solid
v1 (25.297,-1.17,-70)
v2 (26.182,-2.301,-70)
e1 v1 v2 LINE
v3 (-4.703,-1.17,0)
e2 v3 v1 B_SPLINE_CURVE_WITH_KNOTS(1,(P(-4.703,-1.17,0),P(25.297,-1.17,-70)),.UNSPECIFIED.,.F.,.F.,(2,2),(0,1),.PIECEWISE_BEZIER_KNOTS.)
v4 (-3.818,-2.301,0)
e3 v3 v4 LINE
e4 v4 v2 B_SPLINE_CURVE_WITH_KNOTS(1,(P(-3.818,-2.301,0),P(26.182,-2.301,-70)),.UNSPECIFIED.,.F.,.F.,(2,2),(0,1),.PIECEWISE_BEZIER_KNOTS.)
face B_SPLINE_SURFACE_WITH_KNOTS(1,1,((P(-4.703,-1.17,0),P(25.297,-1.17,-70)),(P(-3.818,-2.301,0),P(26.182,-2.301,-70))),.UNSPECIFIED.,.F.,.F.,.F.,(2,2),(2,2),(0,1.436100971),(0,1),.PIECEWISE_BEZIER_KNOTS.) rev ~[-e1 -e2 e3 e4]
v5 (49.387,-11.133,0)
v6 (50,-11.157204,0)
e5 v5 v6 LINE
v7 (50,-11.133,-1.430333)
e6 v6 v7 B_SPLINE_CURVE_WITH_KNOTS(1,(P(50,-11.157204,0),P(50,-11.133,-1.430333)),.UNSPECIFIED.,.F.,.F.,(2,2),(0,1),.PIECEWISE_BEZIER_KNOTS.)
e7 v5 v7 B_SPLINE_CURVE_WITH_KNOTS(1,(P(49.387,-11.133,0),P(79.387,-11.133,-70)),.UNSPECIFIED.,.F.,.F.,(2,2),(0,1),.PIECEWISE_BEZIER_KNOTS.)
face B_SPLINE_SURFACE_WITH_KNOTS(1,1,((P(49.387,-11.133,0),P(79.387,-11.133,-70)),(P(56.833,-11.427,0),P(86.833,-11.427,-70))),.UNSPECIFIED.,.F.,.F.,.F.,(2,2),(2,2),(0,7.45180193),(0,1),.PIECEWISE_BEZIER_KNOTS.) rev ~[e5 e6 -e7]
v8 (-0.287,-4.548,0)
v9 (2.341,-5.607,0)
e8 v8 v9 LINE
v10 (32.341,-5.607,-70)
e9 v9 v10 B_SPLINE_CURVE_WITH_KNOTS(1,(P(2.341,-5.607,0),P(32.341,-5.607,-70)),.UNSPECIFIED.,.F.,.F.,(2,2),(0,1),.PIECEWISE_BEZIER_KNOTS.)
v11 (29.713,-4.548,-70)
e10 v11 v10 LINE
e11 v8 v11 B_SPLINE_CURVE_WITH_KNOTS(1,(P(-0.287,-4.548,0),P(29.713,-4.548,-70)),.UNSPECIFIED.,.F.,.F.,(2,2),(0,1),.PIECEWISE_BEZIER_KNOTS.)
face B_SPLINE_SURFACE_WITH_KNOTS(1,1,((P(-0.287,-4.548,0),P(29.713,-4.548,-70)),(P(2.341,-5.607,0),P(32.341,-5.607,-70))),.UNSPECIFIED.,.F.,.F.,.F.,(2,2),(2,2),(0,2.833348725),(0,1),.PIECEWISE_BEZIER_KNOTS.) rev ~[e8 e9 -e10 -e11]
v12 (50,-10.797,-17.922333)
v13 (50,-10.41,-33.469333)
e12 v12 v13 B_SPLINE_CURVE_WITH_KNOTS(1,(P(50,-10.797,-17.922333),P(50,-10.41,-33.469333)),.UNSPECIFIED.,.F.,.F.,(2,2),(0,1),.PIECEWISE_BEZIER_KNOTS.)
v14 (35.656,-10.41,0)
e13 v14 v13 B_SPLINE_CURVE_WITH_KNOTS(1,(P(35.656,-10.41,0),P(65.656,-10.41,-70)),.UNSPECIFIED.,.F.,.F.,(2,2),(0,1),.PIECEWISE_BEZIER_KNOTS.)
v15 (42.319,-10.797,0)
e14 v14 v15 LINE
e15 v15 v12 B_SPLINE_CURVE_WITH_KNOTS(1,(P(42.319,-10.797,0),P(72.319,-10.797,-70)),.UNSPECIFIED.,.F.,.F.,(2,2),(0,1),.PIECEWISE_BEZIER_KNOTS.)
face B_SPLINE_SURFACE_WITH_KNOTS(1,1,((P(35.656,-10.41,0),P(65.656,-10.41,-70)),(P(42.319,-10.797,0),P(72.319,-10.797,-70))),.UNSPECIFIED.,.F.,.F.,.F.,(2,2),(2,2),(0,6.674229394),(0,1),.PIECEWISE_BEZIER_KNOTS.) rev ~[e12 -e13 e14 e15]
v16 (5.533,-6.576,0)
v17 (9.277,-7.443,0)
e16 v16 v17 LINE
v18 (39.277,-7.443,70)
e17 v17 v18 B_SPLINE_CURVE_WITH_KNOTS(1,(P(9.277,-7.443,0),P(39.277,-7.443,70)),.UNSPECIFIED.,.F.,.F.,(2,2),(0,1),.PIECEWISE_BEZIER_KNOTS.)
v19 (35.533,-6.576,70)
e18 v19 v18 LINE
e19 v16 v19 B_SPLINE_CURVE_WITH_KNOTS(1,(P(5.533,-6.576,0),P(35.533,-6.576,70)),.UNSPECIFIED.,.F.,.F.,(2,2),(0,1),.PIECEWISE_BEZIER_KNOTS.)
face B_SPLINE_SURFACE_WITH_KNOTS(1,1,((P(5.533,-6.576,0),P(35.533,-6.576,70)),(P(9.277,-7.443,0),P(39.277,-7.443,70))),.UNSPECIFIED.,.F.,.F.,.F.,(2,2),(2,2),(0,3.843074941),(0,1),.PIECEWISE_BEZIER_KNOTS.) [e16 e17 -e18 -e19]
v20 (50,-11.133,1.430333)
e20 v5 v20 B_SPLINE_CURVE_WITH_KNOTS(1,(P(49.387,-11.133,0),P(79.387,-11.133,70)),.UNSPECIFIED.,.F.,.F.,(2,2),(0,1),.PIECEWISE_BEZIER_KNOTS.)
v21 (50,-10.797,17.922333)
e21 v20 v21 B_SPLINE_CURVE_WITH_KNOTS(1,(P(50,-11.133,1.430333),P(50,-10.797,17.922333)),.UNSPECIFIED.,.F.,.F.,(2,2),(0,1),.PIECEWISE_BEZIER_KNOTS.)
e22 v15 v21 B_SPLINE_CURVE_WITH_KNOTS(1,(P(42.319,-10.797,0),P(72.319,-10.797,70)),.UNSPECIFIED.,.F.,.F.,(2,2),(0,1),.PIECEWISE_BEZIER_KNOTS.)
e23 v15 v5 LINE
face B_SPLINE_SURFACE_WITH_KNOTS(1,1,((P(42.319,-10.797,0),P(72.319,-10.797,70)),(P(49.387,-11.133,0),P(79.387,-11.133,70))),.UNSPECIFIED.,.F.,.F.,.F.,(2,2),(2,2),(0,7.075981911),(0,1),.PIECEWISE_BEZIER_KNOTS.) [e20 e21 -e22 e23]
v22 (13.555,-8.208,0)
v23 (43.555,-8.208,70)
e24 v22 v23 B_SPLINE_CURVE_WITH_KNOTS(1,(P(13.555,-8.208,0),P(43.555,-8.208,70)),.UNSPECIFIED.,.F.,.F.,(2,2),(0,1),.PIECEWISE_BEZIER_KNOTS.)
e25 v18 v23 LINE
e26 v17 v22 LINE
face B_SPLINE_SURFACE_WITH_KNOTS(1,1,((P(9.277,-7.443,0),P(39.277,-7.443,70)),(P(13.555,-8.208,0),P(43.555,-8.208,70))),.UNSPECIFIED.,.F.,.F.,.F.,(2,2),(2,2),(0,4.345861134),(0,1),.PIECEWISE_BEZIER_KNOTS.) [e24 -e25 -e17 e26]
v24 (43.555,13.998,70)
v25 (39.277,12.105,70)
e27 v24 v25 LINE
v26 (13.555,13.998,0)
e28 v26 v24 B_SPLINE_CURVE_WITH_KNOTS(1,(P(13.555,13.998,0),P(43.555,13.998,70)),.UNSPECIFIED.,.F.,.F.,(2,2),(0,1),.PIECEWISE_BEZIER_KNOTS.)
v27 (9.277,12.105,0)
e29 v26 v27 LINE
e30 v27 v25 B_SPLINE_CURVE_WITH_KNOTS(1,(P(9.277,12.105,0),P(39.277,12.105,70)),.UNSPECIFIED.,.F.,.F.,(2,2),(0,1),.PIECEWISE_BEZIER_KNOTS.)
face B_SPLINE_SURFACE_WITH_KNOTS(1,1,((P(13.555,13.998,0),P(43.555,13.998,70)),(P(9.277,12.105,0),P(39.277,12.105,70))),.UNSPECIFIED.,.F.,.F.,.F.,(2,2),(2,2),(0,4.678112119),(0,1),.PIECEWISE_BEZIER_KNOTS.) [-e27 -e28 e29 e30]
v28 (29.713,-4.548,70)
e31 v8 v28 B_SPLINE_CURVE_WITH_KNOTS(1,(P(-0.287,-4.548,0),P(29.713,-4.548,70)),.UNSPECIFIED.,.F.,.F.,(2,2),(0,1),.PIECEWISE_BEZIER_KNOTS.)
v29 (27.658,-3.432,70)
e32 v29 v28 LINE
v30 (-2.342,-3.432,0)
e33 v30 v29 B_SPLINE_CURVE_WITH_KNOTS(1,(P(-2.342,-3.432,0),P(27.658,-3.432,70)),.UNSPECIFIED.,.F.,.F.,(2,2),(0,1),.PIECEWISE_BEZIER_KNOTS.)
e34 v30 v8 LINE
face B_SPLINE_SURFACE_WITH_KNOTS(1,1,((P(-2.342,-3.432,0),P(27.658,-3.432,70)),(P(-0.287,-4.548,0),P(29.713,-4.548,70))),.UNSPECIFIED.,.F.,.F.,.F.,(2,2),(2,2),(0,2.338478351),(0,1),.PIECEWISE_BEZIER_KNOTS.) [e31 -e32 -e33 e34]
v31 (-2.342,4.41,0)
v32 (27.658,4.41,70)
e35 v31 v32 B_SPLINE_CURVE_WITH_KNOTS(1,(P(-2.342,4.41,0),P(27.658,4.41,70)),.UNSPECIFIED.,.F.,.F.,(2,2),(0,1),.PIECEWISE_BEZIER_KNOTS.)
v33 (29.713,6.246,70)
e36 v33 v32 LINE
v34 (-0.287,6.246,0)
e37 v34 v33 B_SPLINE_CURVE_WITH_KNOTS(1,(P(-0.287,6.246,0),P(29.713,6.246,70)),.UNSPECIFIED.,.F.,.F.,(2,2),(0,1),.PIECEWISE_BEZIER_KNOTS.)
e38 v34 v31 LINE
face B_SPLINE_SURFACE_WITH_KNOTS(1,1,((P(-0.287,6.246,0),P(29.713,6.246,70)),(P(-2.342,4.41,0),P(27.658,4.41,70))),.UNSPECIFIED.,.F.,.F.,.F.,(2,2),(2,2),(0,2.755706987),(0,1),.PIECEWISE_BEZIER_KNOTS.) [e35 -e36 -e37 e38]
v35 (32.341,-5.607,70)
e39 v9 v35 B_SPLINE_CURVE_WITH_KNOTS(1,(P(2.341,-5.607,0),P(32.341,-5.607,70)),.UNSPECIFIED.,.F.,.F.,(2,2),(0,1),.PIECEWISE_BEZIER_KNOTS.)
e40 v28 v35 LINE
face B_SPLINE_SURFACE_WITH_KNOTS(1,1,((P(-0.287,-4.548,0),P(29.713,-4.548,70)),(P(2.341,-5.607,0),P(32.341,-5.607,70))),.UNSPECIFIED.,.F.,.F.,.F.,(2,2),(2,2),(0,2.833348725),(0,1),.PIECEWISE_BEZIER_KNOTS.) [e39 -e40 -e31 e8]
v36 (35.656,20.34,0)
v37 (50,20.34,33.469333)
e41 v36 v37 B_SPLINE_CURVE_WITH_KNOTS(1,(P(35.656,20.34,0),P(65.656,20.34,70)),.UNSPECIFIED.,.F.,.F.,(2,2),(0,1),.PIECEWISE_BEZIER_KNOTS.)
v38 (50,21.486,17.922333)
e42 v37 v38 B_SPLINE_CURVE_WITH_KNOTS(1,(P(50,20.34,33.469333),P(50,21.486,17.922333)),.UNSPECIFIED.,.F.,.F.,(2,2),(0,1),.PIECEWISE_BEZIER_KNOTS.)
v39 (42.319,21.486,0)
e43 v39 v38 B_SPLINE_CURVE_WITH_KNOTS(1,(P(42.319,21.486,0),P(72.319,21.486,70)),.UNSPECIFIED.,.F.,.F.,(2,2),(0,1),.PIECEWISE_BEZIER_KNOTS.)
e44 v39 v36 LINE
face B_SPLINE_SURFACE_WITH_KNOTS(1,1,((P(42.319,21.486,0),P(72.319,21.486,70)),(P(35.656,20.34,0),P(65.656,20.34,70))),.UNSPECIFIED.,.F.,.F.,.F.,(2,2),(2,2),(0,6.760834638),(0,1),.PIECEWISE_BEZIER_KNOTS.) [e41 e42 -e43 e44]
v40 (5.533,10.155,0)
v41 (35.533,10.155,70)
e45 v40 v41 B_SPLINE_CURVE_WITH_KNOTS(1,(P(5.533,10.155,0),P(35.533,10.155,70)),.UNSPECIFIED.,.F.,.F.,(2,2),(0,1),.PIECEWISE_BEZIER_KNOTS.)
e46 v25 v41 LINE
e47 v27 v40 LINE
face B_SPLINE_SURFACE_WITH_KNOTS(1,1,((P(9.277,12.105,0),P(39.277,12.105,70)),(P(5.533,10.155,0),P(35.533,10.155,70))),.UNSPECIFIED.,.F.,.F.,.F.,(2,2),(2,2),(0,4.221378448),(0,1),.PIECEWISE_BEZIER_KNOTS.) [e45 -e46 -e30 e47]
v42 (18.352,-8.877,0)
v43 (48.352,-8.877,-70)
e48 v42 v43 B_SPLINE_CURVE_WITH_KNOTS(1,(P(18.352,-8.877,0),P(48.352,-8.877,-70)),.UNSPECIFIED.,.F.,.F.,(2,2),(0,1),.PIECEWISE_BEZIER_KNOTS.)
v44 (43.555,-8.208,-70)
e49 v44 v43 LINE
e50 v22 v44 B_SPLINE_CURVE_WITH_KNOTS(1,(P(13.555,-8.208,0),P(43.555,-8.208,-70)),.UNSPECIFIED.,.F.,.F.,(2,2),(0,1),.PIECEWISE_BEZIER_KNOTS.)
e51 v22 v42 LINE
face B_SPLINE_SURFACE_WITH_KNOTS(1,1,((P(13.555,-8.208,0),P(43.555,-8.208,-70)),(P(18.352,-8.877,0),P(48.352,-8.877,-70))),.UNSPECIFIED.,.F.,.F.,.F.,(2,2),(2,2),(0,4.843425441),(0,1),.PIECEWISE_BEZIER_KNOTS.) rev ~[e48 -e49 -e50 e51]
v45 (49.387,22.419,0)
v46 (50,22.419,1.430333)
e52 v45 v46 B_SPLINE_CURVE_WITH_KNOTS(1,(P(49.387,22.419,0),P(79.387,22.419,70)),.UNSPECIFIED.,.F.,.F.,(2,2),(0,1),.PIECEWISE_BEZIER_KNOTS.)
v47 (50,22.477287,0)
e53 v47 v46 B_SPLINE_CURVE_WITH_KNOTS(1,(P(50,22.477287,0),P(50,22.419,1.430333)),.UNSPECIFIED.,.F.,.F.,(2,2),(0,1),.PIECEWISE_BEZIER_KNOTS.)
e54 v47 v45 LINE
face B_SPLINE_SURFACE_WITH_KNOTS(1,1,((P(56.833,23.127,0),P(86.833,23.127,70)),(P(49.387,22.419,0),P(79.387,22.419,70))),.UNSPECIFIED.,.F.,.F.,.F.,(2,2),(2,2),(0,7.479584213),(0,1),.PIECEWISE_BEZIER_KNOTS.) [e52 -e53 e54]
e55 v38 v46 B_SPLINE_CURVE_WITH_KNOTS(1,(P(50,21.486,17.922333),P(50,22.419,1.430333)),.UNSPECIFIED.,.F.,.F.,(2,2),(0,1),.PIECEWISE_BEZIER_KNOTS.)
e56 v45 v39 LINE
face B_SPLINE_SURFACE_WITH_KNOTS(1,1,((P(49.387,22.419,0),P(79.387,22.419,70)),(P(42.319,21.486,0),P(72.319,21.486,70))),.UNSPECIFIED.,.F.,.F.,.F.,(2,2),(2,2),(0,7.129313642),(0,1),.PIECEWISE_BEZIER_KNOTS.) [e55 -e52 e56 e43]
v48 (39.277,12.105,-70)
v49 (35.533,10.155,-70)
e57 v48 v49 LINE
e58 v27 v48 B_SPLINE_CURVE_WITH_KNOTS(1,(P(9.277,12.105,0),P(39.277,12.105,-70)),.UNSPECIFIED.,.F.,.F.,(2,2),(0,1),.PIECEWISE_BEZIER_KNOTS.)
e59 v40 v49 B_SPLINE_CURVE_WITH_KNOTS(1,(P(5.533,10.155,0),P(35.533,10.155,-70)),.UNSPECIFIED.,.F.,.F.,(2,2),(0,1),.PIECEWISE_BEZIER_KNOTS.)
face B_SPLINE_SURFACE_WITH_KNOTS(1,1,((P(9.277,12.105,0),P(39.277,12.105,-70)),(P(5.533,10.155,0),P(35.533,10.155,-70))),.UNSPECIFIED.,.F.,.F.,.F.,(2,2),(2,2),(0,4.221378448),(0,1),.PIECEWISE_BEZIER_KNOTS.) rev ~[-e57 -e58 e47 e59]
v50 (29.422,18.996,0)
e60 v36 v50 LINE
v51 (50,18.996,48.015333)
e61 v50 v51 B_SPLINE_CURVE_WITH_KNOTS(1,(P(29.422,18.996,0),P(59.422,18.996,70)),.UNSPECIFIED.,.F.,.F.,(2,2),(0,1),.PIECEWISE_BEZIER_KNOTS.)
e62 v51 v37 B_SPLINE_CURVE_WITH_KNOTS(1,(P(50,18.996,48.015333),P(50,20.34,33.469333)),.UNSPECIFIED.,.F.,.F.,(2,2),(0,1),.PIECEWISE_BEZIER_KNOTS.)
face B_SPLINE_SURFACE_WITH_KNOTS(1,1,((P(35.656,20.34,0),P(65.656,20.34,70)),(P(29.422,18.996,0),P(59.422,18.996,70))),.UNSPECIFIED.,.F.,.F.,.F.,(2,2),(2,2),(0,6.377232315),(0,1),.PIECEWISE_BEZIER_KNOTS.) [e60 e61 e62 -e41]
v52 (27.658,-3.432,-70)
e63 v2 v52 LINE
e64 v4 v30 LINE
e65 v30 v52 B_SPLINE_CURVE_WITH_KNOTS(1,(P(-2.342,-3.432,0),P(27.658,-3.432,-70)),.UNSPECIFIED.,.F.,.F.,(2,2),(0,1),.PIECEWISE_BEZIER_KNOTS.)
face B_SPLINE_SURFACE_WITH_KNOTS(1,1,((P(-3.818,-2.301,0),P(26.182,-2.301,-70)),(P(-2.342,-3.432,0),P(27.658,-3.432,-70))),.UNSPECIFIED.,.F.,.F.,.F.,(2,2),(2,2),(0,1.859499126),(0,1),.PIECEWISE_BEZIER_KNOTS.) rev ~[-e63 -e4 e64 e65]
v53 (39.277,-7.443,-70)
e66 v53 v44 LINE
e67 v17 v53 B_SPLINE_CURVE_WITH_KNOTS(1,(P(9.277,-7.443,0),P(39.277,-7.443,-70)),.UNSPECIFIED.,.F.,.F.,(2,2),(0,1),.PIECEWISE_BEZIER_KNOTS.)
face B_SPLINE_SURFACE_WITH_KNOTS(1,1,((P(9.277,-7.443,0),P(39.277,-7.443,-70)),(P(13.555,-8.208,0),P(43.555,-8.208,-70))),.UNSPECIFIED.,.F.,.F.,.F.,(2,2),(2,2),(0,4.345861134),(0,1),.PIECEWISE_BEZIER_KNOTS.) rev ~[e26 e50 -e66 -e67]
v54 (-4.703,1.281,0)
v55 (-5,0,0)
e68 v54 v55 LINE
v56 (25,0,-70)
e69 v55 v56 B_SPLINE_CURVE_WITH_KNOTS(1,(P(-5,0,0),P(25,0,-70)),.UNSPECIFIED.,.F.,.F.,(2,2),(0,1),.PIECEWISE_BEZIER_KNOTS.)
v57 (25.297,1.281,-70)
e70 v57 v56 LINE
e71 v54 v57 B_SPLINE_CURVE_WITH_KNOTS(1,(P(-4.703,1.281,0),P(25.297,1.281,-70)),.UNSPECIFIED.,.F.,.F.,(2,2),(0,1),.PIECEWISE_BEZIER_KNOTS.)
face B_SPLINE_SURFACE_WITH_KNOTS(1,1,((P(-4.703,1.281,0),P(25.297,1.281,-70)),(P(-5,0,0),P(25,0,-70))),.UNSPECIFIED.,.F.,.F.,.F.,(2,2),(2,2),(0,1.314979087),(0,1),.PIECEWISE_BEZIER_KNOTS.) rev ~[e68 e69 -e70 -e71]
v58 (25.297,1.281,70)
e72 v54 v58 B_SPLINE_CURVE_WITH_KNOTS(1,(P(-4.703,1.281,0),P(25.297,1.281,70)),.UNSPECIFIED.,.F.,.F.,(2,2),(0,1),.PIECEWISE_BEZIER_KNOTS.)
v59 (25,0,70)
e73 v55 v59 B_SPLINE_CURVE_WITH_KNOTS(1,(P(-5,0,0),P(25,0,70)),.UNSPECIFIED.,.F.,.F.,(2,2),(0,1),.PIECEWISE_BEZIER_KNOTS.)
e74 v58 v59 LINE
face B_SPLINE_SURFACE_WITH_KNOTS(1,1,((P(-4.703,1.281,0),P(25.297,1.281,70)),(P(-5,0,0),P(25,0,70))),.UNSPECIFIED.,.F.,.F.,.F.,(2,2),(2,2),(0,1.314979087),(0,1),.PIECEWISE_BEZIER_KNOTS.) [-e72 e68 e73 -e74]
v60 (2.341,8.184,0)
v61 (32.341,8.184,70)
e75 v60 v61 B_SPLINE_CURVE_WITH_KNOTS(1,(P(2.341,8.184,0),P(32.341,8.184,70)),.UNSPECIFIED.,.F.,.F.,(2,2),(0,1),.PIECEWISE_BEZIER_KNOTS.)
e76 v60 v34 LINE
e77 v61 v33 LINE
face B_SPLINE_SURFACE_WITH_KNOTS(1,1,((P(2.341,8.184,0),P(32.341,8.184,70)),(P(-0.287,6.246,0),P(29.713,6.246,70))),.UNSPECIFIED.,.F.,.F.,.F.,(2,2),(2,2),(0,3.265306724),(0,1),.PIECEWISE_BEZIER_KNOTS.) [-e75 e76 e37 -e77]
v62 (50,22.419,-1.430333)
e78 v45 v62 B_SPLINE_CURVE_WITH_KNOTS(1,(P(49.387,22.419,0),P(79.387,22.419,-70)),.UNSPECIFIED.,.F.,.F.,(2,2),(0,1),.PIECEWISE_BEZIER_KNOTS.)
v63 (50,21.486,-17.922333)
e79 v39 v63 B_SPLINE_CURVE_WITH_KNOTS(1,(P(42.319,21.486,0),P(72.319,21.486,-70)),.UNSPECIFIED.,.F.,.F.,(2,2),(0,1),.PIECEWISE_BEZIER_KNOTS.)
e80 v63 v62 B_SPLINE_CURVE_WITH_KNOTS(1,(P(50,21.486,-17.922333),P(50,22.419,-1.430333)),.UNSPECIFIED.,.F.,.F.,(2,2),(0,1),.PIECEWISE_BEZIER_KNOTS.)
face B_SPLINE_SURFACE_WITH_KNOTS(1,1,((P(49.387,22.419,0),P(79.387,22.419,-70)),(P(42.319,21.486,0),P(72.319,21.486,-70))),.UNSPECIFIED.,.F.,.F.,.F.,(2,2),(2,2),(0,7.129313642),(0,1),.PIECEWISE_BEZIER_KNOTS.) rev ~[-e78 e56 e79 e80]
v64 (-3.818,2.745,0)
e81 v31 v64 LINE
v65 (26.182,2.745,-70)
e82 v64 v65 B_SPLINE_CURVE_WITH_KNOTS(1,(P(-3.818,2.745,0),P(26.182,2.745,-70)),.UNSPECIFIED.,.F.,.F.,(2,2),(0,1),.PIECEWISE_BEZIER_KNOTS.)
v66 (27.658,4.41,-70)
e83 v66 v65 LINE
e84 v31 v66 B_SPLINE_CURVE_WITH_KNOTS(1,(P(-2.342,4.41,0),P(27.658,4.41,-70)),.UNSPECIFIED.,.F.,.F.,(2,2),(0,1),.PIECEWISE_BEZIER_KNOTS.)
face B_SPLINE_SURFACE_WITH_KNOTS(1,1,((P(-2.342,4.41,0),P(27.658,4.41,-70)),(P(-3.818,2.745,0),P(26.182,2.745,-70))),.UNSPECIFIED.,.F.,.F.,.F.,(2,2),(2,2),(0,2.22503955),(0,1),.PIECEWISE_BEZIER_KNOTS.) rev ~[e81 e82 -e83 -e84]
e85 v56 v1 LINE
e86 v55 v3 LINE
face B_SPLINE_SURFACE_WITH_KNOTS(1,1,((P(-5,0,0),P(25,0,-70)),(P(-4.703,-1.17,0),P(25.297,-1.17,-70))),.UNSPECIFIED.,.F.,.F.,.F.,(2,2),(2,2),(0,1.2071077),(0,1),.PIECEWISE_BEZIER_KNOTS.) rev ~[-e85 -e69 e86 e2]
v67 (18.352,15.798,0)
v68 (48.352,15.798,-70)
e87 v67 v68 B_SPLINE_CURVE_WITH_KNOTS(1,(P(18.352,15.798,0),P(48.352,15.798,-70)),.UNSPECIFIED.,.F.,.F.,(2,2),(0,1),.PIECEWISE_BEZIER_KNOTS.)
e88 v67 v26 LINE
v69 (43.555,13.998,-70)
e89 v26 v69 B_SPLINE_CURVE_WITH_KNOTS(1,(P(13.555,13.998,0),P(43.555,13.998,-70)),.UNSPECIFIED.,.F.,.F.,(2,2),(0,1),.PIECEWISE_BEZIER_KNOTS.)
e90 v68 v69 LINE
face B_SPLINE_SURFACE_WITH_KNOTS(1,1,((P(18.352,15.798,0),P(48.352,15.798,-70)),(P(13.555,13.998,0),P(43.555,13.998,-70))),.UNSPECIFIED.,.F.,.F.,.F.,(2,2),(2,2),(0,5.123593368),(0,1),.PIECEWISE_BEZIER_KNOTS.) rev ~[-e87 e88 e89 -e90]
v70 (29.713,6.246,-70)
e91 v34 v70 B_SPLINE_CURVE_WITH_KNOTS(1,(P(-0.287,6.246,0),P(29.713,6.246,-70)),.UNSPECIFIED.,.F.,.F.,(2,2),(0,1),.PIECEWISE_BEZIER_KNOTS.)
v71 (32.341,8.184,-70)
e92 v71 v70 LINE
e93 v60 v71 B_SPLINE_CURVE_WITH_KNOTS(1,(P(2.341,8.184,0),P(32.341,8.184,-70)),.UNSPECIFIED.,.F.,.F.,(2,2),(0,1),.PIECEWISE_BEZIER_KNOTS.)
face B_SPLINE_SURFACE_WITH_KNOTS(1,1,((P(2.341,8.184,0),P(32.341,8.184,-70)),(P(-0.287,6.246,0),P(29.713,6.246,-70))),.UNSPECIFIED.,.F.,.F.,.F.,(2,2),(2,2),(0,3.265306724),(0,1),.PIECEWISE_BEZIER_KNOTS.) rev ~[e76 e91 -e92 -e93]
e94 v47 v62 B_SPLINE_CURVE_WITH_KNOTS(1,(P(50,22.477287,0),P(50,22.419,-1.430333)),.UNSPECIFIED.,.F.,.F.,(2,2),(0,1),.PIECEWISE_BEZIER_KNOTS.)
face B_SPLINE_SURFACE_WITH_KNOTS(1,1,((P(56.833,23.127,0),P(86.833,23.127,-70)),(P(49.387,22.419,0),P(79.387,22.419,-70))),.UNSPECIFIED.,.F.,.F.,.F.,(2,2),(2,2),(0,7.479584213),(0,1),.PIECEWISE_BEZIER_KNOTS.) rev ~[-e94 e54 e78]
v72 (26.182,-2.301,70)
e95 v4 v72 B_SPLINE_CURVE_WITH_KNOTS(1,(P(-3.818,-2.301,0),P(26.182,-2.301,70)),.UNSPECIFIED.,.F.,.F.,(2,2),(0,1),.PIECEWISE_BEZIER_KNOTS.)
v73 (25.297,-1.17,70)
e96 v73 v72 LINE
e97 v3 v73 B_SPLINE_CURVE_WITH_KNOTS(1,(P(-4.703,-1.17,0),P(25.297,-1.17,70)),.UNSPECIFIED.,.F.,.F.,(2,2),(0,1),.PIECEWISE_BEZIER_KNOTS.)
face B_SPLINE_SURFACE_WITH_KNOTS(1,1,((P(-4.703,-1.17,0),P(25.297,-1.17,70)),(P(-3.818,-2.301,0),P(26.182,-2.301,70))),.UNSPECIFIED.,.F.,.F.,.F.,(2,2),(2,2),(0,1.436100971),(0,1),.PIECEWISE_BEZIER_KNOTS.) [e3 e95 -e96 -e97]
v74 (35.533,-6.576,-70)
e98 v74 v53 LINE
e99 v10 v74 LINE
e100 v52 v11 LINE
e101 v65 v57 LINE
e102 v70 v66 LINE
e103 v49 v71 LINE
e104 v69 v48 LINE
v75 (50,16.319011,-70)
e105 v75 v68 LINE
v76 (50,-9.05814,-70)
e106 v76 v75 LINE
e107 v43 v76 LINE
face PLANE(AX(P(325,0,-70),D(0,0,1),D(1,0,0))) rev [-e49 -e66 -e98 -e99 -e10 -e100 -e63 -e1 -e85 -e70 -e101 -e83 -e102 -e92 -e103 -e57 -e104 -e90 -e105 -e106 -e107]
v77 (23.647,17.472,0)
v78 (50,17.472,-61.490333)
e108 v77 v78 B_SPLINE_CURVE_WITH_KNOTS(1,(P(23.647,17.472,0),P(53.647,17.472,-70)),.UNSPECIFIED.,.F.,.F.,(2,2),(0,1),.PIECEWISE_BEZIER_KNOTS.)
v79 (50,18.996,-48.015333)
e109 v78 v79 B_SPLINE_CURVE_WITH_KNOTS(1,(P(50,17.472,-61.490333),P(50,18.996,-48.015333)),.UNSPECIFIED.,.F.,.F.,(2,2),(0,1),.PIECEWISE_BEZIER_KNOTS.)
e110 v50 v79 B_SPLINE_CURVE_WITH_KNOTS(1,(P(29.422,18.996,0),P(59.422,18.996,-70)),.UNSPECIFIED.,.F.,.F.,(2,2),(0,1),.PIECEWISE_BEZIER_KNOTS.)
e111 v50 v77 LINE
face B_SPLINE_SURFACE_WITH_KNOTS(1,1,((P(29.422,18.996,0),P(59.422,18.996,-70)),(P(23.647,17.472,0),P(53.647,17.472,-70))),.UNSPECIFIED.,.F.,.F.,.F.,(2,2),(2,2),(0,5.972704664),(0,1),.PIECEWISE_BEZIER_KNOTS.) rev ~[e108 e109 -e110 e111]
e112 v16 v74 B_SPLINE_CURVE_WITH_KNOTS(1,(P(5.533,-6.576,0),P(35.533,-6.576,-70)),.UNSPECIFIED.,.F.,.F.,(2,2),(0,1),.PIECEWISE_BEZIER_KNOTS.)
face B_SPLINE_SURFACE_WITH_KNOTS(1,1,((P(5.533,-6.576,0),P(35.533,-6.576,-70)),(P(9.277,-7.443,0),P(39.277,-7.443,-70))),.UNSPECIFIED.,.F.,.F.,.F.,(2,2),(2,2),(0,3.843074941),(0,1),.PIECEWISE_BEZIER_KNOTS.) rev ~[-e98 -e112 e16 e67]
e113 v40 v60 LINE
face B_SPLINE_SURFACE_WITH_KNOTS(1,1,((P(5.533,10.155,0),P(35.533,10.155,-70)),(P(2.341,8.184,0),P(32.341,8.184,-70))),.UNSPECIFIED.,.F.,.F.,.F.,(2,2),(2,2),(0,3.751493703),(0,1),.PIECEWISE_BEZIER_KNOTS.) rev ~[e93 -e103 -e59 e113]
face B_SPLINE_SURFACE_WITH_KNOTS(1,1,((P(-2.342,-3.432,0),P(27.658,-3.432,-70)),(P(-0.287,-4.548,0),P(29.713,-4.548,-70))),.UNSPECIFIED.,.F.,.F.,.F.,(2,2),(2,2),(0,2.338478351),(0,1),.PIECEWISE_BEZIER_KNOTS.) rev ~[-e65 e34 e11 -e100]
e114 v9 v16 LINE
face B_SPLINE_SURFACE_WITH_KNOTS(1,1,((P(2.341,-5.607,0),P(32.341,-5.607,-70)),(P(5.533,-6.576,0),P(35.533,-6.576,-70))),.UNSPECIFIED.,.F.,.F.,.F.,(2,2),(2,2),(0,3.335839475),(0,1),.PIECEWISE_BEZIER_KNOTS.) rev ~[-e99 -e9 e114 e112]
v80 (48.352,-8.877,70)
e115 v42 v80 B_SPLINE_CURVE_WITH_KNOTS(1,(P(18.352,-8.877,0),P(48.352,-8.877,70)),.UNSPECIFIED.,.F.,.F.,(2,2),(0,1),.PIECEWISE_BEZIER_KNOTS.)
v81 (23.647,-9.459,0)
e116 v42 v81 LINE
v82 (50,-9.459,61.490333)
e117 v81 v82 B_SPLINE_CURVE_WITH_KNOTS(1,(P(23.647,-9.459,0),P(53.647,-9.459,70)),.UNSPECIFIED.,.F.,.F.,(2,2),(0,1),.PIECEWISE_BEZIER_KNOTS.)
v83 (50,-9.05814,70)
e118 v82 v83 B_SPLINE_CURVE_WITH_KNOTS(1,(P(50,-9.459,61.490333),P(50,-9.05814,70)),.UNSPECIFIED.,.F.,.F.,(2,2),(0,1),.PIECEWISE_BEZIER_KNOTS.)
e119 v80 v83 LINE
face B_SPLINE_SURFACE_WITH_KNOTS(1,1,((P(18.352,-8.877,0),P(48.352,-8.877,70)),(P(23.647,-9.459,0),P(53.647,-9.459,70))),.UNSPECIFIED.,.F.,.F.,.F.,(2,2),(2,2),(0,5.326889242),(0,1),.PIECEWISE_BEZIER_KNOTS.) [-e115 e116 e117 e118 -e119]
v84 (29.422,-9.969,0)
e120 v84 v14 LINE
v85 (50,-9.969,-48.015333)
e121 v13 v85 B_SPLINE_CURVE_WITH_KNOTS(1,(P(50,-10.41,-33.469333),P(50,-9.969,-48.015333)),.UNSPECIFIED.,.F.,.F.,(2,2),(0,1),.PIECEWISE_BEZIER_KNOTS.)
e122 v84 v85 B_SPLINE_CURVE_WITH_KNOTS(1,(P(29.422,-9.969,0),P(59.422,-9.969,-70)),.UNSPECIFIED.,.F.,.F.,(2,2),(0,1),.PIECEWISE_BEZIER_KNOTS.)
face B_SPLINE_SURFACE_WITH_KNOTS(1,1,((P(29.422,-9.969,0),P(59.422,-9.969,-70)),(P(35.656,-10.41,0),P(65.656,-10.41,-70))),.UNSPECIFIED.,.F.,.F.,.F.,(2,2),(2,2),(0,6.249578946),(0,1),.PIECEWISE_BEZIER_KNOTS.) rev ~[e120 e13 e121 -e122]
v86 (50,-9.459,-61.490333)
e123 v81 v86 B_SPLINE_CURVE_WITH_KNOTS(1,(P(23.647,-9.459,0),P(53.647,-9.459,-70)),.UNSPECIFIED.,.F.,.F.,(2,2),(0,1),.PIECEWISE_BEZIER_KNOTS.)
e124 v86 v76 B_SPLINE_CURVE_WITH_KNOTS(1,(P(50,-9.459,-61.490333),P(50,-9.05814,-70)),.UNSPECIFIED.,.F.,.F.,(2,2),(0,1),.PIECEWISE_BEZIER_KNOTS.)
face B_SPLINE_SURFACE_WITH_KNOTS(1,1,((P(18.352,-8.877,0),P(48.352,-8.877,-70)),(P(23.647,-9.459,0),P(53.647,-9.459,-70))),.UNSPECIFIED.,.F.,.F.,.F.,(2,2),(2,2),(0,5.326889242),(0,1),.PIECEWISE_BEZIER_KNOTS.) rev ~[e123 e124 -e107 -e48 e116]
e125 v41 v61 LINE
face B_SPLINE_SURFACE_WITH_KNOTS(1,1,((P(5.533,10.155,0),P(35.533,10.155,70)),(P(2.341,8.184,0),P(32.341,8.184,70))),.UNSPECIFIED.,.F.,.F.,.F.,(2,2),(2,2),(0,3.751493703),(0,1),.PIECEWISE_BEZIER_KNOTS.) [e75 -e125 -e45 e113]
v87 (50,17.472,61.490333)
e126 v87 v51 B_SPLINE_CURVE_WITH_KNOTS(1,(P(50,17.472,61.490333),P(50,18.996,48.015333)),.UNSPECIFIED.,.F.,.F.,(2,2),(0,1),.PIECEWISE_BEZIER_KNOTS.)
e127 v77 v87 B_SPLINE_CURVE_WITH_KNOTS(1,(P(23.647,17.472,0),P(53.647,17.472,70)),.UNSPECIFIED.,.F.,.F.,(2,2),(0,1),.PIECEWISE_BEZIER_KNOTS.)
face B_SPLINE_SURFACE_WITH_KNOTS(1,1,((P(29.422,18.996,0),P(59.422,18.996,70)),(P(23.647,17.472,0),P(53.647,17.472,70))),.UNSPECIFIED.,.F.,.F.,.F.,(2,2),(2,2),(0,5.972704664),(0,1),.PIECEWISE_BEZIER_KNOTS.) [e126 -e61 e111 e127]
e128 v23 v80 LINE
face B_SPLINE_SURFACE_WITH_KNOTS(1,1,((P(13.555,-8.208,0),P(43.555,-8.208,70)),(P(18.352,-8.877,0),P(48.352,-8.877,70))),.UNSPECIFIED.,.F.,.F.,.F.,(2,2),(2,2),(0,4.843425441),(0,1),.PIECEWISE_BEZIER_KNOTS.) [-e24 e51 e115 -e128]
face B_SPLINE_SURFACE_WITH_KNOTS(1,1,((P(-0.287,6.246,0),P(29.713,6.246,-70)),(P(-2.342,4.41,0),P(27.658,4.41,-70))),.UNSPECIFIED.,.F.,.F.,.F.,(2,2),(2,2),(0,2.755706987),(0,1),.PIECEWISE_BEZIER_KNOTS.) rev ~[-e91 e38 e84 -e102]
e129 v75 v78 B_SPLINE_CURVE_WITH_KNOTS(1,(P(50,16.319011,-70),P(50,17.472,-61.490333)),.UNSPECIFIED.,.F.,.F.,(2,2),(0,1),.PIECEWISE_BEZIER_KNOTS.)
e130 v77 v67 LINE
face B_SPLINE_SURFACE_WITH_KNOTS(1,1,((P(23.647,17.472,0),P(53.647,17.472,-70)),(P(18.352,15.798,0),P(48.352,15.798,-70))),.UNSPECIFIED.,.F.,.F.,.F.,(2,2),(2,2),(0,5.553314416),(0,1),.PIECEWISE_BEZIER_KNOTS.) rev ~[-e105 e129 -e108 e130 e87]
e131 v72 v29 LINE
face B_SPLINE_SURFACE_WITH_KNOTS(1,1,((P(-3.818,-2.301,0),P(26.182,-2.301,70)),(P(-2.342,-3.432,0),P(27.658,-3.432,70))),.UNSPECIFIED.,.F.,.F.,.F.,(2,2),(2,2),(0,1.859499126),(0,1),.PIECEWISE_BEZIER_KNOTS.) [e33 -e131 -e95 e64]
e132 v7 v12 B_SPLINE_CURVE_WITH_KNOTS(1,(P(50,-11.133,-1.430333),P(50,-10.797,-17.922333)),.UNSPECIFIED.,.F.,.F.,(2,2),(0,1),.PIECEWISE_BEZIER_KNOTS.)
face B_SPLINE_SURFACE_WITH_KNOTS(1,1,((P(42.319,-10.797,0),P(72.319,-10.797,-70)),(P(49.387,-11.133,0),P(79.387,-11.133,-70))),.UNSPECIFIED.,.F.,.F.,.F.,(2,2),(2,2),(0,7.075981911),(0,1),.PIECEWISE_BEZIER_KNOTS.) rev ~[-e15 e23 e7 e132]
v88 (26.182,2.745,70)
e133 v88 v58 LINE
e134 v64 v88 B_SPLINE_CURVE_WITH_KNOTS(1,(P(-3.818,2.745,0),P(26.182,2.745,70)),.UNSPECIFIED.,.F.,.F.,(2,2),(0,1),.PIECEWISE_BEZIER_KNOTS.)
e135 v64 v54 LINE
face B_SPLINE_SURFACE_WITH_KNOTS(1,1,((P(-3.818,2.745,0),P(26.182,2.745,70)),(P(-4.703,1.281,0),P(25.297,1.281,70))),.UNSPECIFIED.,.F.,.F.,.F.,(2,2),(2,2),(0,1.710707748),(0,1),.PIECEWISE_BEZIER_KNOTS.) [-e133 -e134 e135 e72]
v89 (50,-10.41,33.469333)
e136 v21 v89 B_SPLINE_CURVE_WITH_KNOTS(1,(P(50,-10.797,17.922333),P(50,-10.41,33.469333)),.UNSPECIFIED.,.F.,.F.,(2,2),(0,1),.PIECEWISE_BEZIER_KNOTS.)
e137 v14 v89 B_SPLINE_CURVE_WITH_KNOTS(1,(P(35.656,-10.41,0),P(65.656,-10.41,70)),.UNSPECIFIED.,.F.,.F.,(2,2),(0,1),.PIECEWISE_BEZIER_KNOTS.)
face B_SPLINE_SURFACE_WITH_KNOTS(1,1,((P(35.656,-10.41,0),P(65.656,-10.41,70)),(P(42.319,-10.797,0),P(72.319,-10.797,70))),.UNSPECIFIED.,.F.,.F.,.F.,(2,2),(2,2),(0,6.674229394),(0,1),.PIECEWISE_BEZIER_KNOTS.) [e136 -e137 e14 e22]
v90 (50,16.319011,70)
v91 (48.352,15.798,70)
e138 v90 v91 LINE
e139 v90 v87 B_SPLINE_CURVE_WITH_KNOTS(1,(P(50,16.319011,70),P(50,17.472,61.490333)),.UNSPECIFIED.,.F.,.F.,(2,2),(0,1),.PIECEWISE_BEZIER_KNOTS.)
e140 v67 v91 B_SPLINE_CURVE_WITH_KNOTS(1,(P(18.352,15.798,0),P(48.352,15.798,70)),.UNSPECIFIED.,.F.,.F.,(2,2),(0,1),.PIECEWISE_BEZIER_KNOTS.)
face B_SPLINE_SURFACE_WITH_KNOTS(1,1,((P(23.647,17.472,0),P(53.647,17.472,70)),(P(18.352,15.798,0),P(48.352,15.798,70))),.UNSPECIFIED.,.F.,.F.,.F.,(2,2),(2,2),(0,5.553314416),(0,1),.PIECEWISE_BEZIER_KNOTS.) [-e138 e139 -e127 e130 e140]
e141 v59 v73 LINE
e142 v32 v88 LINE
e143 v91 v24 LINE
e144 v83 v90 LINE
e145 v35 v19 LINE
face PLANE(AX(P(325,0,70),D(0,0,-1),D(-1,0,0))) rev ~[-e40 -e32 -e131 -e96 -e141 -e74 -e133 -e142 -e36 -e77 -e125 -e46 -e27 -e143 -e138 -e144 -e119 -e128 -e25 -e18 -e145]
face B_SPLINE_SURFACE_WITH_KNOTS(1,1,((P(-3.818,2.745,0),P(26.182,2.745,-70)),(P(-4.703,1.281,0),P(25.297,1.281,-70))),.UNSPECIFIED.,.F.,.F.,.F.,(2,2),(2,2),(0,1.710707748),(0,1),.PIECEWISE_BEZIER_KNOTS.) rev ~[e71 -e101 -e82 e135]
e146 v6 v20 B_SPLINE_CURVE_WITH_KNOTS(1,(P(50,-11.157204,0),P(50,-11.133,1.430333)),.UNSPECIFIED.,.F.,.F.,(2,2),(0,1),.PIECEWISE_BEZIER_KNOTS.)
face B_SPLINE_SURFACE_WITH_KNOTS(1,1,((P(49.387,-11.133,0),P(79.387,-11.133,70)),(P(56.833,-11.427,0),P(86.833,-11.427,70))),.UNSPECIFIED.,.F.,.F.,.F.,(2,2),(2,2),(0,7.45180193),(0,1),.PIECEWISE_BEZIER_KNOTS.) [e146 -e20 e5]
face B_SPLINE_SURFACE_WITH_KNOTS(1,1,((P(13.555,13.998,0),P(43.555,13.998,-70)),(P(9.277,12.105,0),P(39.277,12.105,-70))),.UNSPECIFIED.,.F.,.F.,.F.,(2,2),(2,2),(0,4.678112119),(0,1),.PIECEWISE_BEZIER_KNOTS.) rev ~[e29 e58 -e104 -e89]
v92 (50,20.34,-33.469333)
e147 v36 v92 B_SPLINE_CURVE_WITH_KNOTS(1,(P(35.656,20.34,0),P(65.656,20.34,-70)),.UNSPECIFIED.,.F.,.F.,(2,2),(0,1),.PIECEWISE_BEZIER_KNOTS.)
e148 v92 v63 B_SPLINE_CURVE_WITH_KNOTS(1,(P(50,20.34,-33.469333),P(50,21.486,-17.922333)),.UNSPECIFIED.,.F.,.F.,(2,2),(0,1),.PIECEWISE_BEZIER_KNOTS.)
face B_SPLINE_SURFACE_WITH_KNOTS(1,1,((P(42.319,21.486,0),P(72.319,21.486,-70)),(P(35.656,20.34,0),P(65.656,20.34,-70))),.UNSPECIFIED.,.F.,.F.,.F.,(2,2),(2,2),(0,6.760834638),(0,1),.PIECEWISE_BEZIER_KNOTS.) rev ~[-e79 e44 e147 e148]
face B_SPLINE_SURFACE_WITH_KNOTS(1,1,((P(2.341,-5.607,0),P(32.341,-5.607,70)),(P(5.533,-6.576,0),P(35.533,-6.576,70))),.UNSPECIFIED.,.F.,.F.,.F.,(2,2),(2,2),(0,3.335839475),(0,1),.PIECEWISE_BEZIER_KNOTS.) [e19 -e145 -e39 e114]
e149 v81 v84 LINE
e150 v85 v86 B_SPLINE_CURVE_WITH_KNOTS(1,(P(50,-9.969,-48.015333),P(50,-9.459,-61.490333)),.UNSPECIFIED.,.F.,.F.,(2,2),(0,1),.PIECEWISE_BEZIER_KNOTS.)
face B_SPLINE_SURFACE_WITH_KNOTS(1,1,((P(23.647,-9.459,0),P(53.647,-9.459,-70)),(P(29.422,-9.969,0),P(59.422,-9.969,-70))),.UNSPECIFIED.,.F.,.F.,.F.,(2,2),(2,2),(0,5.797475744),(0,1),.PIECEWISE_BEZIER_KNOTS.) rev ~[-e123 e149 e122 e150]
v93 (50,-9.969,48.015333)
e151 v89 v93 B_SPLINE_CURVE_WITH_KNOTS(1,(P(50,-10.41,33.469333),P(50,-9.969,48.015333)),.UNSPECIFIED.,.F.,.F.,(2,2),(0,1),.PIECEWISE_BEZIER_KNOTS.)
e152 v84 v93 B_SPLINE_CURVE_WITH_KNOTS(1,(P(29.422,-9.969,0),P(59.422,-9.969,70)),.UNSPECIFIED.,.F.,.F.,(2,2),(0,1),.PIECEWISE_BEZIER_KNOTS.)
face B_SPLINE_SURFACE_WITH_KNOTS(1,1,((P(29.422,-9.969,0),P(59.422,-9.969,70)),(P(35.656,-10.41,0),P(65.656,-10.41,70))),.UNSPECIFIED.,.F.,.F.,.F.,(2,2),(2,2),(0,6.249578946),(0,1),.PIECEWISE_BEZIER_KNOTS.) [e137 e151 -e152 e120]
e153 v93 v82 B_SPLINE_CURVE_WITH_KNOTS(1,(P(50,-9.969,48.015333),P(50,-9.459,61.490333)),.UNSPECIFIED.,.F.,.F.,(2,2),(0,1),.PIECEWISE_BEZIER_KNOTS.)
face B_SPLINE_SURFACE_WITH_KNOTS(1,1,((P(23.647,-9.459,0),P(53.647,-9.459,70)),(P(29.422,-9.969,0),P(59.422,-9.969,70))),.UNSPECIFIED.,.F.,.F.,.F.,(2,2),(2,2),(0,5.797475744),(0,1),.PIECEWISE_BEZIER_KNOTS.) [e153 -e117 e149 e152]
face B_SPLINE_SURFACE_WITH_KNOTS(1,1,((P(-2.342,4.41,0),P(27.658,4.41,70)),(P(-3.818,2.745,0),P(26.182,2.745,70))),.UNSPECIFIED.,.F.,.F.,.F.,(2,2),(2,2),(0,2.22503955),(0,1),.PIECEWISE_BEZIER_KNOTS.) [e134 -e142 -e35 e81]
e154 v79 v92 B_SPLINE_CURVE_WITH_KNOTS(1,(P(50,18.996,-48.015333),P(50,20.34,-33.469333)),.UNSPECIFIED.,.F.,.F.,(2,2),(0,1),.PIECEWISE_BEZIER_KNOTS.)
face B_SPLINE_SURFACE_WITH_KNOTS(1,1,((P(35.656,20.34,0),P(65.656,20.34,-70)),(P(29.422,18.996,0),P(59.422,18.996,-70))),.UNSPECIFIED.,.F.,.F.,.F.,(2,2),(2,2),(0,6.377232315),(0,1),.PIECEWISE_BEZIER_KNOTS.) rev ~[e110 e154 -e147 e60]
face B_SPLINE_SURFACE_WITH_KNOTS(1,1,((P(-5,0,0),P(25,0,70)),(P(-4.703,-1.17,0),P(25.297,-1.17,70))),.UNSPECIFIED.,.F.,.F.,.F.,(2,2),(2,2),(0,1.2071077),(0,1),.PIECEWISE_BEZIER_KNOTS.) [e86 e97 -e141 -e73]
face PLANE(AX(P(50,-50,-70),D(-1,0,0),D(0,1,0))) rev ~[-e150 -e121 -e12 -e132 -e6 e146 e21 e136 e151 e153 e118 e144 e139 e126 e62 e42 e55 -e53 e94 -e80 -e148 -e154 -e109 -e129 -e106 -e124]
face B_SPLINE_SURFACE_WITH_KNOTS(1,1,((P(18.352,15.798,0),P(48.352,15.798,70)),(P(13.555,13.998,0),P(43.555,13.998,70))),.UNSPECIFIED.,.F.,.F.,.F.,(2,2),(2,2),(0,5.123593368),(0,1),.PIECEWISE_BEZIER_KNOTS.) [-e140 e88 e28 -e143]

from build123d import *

# Parameters (mm, degrees)
BOX_W     = 300
BOX_H     = 100
BOX_DEPTH = 140


with BuildPart() as cubo:
    # Box → Box (new body)
    with BuildSketch(Plane(origin=(50, -50, -70), x_dir=(1, 0, 0), z_dir=(0, 0, 1))):
        with Locations((150, 50)):
            Rectangle(BOX_W, BOX_H)
    extrude(amount=BOX_DEPTH)


with BuildPart() as loft001:
    # Sketch003 → Loft001 section 0
    with BuildSketch(Plane(origin=(-5, 0, 0), x_dir=(1, 0, 0), z_dir=(0, 0, 1))):
        Polygon((300, 0), (299.703, 0.018), (298.818, 0.072), (297.342, 0.183), (295.287, 0.363), (292.659, 0.621), (289.467, 0.957), (285.723, 1.368), (281.445, 1.851), (276.648, 2.403), (271.353, 3.027), (265.578, 3.732), (259.344, 4.509), (252.681, 5.364), (245.613, 6.288), (238.167, 7.281), (230.373, 8.337), (222.264, 9.45), (213.867, 10.611), (205.218, 11.811), (196.353, 13.038), (187.305, 14.286), (178.107, 15.534), (168.801, 16.767), (159.42, 17.97), (150, 19.119), (140.583, 20.193), (131.199, 21.174), (121.893, 22.038), (112.698, 22.761), (103.647, 23.322), (94.782, 23.703), (86.133, 23.886), (77.736, 23.856), (69.627, 23.607), (61.833, 23.127), (54.387, 22.419), (47.319, 21.486), (40.656, 20.34), (34.422, 18.996), (28.647, 17.472), (23.352, 15.798), (18.555, 13.998), (14.277, 12.105), (10.533, 10.155), (7.341, 8.184), (4.713, 6.246), (2.658, 4.41), (1.182, 2.745), (0.297, 1.281), (0, 0), (0.297, -1.17), (1.182, -2.301), (2.658, -3.432), (4.713, -4.548), (7.341, -5.607), (10.533, -6.576), (14.277, -7.443), (18.555, -8.208), (23.352, -8.877), (28.647, -9.459), (34.422, -9.969), (40.656, -10.41), (47.319, -10.797), (54.387, -11.133), (61.833, -11.427), (69.627, -11.682), (77.736, -11.901), (86.133, -12.084), (94.782, -12.225), (103.647, -12.327), (112.698, -12.381), (121.893, -12.384), (131.199, -12.327), (140.583, -12.207), (150, -12.018), (159.42, -11.757), (168.801, -11.418), (178.107, -11.007), (187.305, -10.524), (196.353, -9.972), (205.218, -9.357), (213.867, -8.691), (222.264, -7.983), (230.373, -7.248), (238.167, -6.492), (245.613, -5.736), (252.681, -4.989), (259.344, -4.269), (265.578, -3.582), (271.353, -2.94), (276.648, -2.355), (281.445, -1.827), (285.723, -1.359), (289.467, -0.954), (292.659, -0.618), (295.287, -0.363), (297.342, -0.183), (298.818, -0.072), (299.703, -0.018), align=None)
    # Sketch004 → Loft001 section 1
    with BuildSketch(Plane(origin=(25, 0, 70), x_dir=(1, 0, 0), z_dir=(0, 0, 1))):
        Polygon((300, 0), (299.703, 0.018), (298.818, 0.072), (297.342, 0.183), (295.287, 0.363), (292.659, 0.621), (289.467, 0.957), (285.723, 1.368), (281.445, 1.851), (276.648, 2.403), (271.353, 3.027), (265.578, 3.732), (259.344, 4.509), (252.681, 5.364), (245.613, 6.288), (238.167, 7.281), (230.373, 8.337), (222.264, 9.45), (213.867, 10.611), (205.218, 11.811), (196.353, 13.038), (187.305, 14.286), (178.107, 15.534), (168.801, 16.767), (159.42, 17.97), (150, 19.119), (140.583, 20.193), (131.199, 21.174), (121.893, 22.038), (112.698, 22.761), (103.647, 23.322), (94.782, 23.703), (86.133, 23.886), (77.736, 23.856), (69.627, 23.607), (61.833, 23.127), (54.387, 22.419), (47.319, 21.486), (40.656, 20.34), (34.422, 18.996), (28.647, 17.472), (23.352, 15.798), (18.555, 13.998), (14.277, 12.105), (10.533, 10.155), (7.341, 8.184), (4.713, 6.246), (2.658, 4.41), (1.182, 2.745), (0.297, 1.281), (0, 0), (0.297, -1.17), (1.182, -2.301), (2.658, -3.432), (4.713, -4.548), (7.341, -5.607), (10.533, -6.576), (14.277, -7.443), (18.555, -8.208), (23.352, -8.877), (28.647, -9.459), (34.422, -9.969), (40.656, -10.41), (47.319, -10.797), (54.387, -11.133), (61.833, -11.427), (69.627, -11.682), (77.736, -11.901), (86.133, -12.084), (94.782, -12.225), (103.647, -12.327), (112.698, -12.381), (121.893, -12.384), (131.199, -12.327), (140.583, -12.207), (150, -12.018), (159.42, -11.757), (168.801, -11.418), (178.107, -11.007), (187.305, -10.524), (196.353, -9.972), (205.218, -9.357), (213.867, -8.691), (222.264, -7.983), (230.373, -7.248), (238.167, -6.492), (245.613, -5.736), (252.681, -4.989), (259.344, -4.269), (265.578, -3.582), (271.353, -2.94), (276.648, -2.355), (281.445, -1.827), (285.723, -1.359), (289.467, -0.954), (292.659, -0.618), (295.287, -0.363), (297.342, -0.183), (298.818, -0.072), (299.703, -0.018), align=None)
    loft()


with BuildPart() as cut:
    # Part__Mirroring001: instance of Loft001
    add(loft001.part.mirror(Plane(origin=(0, 0, 0), x_dir=(0, 1, 0), z_dir=(0, 0, 1))))

    # Fusion: union Loft001
    add(loft001.part)

    # Cut: cut Cubo
    add(cubo.part, mode=Mode.SUBTRACT)


solid = cut.part
